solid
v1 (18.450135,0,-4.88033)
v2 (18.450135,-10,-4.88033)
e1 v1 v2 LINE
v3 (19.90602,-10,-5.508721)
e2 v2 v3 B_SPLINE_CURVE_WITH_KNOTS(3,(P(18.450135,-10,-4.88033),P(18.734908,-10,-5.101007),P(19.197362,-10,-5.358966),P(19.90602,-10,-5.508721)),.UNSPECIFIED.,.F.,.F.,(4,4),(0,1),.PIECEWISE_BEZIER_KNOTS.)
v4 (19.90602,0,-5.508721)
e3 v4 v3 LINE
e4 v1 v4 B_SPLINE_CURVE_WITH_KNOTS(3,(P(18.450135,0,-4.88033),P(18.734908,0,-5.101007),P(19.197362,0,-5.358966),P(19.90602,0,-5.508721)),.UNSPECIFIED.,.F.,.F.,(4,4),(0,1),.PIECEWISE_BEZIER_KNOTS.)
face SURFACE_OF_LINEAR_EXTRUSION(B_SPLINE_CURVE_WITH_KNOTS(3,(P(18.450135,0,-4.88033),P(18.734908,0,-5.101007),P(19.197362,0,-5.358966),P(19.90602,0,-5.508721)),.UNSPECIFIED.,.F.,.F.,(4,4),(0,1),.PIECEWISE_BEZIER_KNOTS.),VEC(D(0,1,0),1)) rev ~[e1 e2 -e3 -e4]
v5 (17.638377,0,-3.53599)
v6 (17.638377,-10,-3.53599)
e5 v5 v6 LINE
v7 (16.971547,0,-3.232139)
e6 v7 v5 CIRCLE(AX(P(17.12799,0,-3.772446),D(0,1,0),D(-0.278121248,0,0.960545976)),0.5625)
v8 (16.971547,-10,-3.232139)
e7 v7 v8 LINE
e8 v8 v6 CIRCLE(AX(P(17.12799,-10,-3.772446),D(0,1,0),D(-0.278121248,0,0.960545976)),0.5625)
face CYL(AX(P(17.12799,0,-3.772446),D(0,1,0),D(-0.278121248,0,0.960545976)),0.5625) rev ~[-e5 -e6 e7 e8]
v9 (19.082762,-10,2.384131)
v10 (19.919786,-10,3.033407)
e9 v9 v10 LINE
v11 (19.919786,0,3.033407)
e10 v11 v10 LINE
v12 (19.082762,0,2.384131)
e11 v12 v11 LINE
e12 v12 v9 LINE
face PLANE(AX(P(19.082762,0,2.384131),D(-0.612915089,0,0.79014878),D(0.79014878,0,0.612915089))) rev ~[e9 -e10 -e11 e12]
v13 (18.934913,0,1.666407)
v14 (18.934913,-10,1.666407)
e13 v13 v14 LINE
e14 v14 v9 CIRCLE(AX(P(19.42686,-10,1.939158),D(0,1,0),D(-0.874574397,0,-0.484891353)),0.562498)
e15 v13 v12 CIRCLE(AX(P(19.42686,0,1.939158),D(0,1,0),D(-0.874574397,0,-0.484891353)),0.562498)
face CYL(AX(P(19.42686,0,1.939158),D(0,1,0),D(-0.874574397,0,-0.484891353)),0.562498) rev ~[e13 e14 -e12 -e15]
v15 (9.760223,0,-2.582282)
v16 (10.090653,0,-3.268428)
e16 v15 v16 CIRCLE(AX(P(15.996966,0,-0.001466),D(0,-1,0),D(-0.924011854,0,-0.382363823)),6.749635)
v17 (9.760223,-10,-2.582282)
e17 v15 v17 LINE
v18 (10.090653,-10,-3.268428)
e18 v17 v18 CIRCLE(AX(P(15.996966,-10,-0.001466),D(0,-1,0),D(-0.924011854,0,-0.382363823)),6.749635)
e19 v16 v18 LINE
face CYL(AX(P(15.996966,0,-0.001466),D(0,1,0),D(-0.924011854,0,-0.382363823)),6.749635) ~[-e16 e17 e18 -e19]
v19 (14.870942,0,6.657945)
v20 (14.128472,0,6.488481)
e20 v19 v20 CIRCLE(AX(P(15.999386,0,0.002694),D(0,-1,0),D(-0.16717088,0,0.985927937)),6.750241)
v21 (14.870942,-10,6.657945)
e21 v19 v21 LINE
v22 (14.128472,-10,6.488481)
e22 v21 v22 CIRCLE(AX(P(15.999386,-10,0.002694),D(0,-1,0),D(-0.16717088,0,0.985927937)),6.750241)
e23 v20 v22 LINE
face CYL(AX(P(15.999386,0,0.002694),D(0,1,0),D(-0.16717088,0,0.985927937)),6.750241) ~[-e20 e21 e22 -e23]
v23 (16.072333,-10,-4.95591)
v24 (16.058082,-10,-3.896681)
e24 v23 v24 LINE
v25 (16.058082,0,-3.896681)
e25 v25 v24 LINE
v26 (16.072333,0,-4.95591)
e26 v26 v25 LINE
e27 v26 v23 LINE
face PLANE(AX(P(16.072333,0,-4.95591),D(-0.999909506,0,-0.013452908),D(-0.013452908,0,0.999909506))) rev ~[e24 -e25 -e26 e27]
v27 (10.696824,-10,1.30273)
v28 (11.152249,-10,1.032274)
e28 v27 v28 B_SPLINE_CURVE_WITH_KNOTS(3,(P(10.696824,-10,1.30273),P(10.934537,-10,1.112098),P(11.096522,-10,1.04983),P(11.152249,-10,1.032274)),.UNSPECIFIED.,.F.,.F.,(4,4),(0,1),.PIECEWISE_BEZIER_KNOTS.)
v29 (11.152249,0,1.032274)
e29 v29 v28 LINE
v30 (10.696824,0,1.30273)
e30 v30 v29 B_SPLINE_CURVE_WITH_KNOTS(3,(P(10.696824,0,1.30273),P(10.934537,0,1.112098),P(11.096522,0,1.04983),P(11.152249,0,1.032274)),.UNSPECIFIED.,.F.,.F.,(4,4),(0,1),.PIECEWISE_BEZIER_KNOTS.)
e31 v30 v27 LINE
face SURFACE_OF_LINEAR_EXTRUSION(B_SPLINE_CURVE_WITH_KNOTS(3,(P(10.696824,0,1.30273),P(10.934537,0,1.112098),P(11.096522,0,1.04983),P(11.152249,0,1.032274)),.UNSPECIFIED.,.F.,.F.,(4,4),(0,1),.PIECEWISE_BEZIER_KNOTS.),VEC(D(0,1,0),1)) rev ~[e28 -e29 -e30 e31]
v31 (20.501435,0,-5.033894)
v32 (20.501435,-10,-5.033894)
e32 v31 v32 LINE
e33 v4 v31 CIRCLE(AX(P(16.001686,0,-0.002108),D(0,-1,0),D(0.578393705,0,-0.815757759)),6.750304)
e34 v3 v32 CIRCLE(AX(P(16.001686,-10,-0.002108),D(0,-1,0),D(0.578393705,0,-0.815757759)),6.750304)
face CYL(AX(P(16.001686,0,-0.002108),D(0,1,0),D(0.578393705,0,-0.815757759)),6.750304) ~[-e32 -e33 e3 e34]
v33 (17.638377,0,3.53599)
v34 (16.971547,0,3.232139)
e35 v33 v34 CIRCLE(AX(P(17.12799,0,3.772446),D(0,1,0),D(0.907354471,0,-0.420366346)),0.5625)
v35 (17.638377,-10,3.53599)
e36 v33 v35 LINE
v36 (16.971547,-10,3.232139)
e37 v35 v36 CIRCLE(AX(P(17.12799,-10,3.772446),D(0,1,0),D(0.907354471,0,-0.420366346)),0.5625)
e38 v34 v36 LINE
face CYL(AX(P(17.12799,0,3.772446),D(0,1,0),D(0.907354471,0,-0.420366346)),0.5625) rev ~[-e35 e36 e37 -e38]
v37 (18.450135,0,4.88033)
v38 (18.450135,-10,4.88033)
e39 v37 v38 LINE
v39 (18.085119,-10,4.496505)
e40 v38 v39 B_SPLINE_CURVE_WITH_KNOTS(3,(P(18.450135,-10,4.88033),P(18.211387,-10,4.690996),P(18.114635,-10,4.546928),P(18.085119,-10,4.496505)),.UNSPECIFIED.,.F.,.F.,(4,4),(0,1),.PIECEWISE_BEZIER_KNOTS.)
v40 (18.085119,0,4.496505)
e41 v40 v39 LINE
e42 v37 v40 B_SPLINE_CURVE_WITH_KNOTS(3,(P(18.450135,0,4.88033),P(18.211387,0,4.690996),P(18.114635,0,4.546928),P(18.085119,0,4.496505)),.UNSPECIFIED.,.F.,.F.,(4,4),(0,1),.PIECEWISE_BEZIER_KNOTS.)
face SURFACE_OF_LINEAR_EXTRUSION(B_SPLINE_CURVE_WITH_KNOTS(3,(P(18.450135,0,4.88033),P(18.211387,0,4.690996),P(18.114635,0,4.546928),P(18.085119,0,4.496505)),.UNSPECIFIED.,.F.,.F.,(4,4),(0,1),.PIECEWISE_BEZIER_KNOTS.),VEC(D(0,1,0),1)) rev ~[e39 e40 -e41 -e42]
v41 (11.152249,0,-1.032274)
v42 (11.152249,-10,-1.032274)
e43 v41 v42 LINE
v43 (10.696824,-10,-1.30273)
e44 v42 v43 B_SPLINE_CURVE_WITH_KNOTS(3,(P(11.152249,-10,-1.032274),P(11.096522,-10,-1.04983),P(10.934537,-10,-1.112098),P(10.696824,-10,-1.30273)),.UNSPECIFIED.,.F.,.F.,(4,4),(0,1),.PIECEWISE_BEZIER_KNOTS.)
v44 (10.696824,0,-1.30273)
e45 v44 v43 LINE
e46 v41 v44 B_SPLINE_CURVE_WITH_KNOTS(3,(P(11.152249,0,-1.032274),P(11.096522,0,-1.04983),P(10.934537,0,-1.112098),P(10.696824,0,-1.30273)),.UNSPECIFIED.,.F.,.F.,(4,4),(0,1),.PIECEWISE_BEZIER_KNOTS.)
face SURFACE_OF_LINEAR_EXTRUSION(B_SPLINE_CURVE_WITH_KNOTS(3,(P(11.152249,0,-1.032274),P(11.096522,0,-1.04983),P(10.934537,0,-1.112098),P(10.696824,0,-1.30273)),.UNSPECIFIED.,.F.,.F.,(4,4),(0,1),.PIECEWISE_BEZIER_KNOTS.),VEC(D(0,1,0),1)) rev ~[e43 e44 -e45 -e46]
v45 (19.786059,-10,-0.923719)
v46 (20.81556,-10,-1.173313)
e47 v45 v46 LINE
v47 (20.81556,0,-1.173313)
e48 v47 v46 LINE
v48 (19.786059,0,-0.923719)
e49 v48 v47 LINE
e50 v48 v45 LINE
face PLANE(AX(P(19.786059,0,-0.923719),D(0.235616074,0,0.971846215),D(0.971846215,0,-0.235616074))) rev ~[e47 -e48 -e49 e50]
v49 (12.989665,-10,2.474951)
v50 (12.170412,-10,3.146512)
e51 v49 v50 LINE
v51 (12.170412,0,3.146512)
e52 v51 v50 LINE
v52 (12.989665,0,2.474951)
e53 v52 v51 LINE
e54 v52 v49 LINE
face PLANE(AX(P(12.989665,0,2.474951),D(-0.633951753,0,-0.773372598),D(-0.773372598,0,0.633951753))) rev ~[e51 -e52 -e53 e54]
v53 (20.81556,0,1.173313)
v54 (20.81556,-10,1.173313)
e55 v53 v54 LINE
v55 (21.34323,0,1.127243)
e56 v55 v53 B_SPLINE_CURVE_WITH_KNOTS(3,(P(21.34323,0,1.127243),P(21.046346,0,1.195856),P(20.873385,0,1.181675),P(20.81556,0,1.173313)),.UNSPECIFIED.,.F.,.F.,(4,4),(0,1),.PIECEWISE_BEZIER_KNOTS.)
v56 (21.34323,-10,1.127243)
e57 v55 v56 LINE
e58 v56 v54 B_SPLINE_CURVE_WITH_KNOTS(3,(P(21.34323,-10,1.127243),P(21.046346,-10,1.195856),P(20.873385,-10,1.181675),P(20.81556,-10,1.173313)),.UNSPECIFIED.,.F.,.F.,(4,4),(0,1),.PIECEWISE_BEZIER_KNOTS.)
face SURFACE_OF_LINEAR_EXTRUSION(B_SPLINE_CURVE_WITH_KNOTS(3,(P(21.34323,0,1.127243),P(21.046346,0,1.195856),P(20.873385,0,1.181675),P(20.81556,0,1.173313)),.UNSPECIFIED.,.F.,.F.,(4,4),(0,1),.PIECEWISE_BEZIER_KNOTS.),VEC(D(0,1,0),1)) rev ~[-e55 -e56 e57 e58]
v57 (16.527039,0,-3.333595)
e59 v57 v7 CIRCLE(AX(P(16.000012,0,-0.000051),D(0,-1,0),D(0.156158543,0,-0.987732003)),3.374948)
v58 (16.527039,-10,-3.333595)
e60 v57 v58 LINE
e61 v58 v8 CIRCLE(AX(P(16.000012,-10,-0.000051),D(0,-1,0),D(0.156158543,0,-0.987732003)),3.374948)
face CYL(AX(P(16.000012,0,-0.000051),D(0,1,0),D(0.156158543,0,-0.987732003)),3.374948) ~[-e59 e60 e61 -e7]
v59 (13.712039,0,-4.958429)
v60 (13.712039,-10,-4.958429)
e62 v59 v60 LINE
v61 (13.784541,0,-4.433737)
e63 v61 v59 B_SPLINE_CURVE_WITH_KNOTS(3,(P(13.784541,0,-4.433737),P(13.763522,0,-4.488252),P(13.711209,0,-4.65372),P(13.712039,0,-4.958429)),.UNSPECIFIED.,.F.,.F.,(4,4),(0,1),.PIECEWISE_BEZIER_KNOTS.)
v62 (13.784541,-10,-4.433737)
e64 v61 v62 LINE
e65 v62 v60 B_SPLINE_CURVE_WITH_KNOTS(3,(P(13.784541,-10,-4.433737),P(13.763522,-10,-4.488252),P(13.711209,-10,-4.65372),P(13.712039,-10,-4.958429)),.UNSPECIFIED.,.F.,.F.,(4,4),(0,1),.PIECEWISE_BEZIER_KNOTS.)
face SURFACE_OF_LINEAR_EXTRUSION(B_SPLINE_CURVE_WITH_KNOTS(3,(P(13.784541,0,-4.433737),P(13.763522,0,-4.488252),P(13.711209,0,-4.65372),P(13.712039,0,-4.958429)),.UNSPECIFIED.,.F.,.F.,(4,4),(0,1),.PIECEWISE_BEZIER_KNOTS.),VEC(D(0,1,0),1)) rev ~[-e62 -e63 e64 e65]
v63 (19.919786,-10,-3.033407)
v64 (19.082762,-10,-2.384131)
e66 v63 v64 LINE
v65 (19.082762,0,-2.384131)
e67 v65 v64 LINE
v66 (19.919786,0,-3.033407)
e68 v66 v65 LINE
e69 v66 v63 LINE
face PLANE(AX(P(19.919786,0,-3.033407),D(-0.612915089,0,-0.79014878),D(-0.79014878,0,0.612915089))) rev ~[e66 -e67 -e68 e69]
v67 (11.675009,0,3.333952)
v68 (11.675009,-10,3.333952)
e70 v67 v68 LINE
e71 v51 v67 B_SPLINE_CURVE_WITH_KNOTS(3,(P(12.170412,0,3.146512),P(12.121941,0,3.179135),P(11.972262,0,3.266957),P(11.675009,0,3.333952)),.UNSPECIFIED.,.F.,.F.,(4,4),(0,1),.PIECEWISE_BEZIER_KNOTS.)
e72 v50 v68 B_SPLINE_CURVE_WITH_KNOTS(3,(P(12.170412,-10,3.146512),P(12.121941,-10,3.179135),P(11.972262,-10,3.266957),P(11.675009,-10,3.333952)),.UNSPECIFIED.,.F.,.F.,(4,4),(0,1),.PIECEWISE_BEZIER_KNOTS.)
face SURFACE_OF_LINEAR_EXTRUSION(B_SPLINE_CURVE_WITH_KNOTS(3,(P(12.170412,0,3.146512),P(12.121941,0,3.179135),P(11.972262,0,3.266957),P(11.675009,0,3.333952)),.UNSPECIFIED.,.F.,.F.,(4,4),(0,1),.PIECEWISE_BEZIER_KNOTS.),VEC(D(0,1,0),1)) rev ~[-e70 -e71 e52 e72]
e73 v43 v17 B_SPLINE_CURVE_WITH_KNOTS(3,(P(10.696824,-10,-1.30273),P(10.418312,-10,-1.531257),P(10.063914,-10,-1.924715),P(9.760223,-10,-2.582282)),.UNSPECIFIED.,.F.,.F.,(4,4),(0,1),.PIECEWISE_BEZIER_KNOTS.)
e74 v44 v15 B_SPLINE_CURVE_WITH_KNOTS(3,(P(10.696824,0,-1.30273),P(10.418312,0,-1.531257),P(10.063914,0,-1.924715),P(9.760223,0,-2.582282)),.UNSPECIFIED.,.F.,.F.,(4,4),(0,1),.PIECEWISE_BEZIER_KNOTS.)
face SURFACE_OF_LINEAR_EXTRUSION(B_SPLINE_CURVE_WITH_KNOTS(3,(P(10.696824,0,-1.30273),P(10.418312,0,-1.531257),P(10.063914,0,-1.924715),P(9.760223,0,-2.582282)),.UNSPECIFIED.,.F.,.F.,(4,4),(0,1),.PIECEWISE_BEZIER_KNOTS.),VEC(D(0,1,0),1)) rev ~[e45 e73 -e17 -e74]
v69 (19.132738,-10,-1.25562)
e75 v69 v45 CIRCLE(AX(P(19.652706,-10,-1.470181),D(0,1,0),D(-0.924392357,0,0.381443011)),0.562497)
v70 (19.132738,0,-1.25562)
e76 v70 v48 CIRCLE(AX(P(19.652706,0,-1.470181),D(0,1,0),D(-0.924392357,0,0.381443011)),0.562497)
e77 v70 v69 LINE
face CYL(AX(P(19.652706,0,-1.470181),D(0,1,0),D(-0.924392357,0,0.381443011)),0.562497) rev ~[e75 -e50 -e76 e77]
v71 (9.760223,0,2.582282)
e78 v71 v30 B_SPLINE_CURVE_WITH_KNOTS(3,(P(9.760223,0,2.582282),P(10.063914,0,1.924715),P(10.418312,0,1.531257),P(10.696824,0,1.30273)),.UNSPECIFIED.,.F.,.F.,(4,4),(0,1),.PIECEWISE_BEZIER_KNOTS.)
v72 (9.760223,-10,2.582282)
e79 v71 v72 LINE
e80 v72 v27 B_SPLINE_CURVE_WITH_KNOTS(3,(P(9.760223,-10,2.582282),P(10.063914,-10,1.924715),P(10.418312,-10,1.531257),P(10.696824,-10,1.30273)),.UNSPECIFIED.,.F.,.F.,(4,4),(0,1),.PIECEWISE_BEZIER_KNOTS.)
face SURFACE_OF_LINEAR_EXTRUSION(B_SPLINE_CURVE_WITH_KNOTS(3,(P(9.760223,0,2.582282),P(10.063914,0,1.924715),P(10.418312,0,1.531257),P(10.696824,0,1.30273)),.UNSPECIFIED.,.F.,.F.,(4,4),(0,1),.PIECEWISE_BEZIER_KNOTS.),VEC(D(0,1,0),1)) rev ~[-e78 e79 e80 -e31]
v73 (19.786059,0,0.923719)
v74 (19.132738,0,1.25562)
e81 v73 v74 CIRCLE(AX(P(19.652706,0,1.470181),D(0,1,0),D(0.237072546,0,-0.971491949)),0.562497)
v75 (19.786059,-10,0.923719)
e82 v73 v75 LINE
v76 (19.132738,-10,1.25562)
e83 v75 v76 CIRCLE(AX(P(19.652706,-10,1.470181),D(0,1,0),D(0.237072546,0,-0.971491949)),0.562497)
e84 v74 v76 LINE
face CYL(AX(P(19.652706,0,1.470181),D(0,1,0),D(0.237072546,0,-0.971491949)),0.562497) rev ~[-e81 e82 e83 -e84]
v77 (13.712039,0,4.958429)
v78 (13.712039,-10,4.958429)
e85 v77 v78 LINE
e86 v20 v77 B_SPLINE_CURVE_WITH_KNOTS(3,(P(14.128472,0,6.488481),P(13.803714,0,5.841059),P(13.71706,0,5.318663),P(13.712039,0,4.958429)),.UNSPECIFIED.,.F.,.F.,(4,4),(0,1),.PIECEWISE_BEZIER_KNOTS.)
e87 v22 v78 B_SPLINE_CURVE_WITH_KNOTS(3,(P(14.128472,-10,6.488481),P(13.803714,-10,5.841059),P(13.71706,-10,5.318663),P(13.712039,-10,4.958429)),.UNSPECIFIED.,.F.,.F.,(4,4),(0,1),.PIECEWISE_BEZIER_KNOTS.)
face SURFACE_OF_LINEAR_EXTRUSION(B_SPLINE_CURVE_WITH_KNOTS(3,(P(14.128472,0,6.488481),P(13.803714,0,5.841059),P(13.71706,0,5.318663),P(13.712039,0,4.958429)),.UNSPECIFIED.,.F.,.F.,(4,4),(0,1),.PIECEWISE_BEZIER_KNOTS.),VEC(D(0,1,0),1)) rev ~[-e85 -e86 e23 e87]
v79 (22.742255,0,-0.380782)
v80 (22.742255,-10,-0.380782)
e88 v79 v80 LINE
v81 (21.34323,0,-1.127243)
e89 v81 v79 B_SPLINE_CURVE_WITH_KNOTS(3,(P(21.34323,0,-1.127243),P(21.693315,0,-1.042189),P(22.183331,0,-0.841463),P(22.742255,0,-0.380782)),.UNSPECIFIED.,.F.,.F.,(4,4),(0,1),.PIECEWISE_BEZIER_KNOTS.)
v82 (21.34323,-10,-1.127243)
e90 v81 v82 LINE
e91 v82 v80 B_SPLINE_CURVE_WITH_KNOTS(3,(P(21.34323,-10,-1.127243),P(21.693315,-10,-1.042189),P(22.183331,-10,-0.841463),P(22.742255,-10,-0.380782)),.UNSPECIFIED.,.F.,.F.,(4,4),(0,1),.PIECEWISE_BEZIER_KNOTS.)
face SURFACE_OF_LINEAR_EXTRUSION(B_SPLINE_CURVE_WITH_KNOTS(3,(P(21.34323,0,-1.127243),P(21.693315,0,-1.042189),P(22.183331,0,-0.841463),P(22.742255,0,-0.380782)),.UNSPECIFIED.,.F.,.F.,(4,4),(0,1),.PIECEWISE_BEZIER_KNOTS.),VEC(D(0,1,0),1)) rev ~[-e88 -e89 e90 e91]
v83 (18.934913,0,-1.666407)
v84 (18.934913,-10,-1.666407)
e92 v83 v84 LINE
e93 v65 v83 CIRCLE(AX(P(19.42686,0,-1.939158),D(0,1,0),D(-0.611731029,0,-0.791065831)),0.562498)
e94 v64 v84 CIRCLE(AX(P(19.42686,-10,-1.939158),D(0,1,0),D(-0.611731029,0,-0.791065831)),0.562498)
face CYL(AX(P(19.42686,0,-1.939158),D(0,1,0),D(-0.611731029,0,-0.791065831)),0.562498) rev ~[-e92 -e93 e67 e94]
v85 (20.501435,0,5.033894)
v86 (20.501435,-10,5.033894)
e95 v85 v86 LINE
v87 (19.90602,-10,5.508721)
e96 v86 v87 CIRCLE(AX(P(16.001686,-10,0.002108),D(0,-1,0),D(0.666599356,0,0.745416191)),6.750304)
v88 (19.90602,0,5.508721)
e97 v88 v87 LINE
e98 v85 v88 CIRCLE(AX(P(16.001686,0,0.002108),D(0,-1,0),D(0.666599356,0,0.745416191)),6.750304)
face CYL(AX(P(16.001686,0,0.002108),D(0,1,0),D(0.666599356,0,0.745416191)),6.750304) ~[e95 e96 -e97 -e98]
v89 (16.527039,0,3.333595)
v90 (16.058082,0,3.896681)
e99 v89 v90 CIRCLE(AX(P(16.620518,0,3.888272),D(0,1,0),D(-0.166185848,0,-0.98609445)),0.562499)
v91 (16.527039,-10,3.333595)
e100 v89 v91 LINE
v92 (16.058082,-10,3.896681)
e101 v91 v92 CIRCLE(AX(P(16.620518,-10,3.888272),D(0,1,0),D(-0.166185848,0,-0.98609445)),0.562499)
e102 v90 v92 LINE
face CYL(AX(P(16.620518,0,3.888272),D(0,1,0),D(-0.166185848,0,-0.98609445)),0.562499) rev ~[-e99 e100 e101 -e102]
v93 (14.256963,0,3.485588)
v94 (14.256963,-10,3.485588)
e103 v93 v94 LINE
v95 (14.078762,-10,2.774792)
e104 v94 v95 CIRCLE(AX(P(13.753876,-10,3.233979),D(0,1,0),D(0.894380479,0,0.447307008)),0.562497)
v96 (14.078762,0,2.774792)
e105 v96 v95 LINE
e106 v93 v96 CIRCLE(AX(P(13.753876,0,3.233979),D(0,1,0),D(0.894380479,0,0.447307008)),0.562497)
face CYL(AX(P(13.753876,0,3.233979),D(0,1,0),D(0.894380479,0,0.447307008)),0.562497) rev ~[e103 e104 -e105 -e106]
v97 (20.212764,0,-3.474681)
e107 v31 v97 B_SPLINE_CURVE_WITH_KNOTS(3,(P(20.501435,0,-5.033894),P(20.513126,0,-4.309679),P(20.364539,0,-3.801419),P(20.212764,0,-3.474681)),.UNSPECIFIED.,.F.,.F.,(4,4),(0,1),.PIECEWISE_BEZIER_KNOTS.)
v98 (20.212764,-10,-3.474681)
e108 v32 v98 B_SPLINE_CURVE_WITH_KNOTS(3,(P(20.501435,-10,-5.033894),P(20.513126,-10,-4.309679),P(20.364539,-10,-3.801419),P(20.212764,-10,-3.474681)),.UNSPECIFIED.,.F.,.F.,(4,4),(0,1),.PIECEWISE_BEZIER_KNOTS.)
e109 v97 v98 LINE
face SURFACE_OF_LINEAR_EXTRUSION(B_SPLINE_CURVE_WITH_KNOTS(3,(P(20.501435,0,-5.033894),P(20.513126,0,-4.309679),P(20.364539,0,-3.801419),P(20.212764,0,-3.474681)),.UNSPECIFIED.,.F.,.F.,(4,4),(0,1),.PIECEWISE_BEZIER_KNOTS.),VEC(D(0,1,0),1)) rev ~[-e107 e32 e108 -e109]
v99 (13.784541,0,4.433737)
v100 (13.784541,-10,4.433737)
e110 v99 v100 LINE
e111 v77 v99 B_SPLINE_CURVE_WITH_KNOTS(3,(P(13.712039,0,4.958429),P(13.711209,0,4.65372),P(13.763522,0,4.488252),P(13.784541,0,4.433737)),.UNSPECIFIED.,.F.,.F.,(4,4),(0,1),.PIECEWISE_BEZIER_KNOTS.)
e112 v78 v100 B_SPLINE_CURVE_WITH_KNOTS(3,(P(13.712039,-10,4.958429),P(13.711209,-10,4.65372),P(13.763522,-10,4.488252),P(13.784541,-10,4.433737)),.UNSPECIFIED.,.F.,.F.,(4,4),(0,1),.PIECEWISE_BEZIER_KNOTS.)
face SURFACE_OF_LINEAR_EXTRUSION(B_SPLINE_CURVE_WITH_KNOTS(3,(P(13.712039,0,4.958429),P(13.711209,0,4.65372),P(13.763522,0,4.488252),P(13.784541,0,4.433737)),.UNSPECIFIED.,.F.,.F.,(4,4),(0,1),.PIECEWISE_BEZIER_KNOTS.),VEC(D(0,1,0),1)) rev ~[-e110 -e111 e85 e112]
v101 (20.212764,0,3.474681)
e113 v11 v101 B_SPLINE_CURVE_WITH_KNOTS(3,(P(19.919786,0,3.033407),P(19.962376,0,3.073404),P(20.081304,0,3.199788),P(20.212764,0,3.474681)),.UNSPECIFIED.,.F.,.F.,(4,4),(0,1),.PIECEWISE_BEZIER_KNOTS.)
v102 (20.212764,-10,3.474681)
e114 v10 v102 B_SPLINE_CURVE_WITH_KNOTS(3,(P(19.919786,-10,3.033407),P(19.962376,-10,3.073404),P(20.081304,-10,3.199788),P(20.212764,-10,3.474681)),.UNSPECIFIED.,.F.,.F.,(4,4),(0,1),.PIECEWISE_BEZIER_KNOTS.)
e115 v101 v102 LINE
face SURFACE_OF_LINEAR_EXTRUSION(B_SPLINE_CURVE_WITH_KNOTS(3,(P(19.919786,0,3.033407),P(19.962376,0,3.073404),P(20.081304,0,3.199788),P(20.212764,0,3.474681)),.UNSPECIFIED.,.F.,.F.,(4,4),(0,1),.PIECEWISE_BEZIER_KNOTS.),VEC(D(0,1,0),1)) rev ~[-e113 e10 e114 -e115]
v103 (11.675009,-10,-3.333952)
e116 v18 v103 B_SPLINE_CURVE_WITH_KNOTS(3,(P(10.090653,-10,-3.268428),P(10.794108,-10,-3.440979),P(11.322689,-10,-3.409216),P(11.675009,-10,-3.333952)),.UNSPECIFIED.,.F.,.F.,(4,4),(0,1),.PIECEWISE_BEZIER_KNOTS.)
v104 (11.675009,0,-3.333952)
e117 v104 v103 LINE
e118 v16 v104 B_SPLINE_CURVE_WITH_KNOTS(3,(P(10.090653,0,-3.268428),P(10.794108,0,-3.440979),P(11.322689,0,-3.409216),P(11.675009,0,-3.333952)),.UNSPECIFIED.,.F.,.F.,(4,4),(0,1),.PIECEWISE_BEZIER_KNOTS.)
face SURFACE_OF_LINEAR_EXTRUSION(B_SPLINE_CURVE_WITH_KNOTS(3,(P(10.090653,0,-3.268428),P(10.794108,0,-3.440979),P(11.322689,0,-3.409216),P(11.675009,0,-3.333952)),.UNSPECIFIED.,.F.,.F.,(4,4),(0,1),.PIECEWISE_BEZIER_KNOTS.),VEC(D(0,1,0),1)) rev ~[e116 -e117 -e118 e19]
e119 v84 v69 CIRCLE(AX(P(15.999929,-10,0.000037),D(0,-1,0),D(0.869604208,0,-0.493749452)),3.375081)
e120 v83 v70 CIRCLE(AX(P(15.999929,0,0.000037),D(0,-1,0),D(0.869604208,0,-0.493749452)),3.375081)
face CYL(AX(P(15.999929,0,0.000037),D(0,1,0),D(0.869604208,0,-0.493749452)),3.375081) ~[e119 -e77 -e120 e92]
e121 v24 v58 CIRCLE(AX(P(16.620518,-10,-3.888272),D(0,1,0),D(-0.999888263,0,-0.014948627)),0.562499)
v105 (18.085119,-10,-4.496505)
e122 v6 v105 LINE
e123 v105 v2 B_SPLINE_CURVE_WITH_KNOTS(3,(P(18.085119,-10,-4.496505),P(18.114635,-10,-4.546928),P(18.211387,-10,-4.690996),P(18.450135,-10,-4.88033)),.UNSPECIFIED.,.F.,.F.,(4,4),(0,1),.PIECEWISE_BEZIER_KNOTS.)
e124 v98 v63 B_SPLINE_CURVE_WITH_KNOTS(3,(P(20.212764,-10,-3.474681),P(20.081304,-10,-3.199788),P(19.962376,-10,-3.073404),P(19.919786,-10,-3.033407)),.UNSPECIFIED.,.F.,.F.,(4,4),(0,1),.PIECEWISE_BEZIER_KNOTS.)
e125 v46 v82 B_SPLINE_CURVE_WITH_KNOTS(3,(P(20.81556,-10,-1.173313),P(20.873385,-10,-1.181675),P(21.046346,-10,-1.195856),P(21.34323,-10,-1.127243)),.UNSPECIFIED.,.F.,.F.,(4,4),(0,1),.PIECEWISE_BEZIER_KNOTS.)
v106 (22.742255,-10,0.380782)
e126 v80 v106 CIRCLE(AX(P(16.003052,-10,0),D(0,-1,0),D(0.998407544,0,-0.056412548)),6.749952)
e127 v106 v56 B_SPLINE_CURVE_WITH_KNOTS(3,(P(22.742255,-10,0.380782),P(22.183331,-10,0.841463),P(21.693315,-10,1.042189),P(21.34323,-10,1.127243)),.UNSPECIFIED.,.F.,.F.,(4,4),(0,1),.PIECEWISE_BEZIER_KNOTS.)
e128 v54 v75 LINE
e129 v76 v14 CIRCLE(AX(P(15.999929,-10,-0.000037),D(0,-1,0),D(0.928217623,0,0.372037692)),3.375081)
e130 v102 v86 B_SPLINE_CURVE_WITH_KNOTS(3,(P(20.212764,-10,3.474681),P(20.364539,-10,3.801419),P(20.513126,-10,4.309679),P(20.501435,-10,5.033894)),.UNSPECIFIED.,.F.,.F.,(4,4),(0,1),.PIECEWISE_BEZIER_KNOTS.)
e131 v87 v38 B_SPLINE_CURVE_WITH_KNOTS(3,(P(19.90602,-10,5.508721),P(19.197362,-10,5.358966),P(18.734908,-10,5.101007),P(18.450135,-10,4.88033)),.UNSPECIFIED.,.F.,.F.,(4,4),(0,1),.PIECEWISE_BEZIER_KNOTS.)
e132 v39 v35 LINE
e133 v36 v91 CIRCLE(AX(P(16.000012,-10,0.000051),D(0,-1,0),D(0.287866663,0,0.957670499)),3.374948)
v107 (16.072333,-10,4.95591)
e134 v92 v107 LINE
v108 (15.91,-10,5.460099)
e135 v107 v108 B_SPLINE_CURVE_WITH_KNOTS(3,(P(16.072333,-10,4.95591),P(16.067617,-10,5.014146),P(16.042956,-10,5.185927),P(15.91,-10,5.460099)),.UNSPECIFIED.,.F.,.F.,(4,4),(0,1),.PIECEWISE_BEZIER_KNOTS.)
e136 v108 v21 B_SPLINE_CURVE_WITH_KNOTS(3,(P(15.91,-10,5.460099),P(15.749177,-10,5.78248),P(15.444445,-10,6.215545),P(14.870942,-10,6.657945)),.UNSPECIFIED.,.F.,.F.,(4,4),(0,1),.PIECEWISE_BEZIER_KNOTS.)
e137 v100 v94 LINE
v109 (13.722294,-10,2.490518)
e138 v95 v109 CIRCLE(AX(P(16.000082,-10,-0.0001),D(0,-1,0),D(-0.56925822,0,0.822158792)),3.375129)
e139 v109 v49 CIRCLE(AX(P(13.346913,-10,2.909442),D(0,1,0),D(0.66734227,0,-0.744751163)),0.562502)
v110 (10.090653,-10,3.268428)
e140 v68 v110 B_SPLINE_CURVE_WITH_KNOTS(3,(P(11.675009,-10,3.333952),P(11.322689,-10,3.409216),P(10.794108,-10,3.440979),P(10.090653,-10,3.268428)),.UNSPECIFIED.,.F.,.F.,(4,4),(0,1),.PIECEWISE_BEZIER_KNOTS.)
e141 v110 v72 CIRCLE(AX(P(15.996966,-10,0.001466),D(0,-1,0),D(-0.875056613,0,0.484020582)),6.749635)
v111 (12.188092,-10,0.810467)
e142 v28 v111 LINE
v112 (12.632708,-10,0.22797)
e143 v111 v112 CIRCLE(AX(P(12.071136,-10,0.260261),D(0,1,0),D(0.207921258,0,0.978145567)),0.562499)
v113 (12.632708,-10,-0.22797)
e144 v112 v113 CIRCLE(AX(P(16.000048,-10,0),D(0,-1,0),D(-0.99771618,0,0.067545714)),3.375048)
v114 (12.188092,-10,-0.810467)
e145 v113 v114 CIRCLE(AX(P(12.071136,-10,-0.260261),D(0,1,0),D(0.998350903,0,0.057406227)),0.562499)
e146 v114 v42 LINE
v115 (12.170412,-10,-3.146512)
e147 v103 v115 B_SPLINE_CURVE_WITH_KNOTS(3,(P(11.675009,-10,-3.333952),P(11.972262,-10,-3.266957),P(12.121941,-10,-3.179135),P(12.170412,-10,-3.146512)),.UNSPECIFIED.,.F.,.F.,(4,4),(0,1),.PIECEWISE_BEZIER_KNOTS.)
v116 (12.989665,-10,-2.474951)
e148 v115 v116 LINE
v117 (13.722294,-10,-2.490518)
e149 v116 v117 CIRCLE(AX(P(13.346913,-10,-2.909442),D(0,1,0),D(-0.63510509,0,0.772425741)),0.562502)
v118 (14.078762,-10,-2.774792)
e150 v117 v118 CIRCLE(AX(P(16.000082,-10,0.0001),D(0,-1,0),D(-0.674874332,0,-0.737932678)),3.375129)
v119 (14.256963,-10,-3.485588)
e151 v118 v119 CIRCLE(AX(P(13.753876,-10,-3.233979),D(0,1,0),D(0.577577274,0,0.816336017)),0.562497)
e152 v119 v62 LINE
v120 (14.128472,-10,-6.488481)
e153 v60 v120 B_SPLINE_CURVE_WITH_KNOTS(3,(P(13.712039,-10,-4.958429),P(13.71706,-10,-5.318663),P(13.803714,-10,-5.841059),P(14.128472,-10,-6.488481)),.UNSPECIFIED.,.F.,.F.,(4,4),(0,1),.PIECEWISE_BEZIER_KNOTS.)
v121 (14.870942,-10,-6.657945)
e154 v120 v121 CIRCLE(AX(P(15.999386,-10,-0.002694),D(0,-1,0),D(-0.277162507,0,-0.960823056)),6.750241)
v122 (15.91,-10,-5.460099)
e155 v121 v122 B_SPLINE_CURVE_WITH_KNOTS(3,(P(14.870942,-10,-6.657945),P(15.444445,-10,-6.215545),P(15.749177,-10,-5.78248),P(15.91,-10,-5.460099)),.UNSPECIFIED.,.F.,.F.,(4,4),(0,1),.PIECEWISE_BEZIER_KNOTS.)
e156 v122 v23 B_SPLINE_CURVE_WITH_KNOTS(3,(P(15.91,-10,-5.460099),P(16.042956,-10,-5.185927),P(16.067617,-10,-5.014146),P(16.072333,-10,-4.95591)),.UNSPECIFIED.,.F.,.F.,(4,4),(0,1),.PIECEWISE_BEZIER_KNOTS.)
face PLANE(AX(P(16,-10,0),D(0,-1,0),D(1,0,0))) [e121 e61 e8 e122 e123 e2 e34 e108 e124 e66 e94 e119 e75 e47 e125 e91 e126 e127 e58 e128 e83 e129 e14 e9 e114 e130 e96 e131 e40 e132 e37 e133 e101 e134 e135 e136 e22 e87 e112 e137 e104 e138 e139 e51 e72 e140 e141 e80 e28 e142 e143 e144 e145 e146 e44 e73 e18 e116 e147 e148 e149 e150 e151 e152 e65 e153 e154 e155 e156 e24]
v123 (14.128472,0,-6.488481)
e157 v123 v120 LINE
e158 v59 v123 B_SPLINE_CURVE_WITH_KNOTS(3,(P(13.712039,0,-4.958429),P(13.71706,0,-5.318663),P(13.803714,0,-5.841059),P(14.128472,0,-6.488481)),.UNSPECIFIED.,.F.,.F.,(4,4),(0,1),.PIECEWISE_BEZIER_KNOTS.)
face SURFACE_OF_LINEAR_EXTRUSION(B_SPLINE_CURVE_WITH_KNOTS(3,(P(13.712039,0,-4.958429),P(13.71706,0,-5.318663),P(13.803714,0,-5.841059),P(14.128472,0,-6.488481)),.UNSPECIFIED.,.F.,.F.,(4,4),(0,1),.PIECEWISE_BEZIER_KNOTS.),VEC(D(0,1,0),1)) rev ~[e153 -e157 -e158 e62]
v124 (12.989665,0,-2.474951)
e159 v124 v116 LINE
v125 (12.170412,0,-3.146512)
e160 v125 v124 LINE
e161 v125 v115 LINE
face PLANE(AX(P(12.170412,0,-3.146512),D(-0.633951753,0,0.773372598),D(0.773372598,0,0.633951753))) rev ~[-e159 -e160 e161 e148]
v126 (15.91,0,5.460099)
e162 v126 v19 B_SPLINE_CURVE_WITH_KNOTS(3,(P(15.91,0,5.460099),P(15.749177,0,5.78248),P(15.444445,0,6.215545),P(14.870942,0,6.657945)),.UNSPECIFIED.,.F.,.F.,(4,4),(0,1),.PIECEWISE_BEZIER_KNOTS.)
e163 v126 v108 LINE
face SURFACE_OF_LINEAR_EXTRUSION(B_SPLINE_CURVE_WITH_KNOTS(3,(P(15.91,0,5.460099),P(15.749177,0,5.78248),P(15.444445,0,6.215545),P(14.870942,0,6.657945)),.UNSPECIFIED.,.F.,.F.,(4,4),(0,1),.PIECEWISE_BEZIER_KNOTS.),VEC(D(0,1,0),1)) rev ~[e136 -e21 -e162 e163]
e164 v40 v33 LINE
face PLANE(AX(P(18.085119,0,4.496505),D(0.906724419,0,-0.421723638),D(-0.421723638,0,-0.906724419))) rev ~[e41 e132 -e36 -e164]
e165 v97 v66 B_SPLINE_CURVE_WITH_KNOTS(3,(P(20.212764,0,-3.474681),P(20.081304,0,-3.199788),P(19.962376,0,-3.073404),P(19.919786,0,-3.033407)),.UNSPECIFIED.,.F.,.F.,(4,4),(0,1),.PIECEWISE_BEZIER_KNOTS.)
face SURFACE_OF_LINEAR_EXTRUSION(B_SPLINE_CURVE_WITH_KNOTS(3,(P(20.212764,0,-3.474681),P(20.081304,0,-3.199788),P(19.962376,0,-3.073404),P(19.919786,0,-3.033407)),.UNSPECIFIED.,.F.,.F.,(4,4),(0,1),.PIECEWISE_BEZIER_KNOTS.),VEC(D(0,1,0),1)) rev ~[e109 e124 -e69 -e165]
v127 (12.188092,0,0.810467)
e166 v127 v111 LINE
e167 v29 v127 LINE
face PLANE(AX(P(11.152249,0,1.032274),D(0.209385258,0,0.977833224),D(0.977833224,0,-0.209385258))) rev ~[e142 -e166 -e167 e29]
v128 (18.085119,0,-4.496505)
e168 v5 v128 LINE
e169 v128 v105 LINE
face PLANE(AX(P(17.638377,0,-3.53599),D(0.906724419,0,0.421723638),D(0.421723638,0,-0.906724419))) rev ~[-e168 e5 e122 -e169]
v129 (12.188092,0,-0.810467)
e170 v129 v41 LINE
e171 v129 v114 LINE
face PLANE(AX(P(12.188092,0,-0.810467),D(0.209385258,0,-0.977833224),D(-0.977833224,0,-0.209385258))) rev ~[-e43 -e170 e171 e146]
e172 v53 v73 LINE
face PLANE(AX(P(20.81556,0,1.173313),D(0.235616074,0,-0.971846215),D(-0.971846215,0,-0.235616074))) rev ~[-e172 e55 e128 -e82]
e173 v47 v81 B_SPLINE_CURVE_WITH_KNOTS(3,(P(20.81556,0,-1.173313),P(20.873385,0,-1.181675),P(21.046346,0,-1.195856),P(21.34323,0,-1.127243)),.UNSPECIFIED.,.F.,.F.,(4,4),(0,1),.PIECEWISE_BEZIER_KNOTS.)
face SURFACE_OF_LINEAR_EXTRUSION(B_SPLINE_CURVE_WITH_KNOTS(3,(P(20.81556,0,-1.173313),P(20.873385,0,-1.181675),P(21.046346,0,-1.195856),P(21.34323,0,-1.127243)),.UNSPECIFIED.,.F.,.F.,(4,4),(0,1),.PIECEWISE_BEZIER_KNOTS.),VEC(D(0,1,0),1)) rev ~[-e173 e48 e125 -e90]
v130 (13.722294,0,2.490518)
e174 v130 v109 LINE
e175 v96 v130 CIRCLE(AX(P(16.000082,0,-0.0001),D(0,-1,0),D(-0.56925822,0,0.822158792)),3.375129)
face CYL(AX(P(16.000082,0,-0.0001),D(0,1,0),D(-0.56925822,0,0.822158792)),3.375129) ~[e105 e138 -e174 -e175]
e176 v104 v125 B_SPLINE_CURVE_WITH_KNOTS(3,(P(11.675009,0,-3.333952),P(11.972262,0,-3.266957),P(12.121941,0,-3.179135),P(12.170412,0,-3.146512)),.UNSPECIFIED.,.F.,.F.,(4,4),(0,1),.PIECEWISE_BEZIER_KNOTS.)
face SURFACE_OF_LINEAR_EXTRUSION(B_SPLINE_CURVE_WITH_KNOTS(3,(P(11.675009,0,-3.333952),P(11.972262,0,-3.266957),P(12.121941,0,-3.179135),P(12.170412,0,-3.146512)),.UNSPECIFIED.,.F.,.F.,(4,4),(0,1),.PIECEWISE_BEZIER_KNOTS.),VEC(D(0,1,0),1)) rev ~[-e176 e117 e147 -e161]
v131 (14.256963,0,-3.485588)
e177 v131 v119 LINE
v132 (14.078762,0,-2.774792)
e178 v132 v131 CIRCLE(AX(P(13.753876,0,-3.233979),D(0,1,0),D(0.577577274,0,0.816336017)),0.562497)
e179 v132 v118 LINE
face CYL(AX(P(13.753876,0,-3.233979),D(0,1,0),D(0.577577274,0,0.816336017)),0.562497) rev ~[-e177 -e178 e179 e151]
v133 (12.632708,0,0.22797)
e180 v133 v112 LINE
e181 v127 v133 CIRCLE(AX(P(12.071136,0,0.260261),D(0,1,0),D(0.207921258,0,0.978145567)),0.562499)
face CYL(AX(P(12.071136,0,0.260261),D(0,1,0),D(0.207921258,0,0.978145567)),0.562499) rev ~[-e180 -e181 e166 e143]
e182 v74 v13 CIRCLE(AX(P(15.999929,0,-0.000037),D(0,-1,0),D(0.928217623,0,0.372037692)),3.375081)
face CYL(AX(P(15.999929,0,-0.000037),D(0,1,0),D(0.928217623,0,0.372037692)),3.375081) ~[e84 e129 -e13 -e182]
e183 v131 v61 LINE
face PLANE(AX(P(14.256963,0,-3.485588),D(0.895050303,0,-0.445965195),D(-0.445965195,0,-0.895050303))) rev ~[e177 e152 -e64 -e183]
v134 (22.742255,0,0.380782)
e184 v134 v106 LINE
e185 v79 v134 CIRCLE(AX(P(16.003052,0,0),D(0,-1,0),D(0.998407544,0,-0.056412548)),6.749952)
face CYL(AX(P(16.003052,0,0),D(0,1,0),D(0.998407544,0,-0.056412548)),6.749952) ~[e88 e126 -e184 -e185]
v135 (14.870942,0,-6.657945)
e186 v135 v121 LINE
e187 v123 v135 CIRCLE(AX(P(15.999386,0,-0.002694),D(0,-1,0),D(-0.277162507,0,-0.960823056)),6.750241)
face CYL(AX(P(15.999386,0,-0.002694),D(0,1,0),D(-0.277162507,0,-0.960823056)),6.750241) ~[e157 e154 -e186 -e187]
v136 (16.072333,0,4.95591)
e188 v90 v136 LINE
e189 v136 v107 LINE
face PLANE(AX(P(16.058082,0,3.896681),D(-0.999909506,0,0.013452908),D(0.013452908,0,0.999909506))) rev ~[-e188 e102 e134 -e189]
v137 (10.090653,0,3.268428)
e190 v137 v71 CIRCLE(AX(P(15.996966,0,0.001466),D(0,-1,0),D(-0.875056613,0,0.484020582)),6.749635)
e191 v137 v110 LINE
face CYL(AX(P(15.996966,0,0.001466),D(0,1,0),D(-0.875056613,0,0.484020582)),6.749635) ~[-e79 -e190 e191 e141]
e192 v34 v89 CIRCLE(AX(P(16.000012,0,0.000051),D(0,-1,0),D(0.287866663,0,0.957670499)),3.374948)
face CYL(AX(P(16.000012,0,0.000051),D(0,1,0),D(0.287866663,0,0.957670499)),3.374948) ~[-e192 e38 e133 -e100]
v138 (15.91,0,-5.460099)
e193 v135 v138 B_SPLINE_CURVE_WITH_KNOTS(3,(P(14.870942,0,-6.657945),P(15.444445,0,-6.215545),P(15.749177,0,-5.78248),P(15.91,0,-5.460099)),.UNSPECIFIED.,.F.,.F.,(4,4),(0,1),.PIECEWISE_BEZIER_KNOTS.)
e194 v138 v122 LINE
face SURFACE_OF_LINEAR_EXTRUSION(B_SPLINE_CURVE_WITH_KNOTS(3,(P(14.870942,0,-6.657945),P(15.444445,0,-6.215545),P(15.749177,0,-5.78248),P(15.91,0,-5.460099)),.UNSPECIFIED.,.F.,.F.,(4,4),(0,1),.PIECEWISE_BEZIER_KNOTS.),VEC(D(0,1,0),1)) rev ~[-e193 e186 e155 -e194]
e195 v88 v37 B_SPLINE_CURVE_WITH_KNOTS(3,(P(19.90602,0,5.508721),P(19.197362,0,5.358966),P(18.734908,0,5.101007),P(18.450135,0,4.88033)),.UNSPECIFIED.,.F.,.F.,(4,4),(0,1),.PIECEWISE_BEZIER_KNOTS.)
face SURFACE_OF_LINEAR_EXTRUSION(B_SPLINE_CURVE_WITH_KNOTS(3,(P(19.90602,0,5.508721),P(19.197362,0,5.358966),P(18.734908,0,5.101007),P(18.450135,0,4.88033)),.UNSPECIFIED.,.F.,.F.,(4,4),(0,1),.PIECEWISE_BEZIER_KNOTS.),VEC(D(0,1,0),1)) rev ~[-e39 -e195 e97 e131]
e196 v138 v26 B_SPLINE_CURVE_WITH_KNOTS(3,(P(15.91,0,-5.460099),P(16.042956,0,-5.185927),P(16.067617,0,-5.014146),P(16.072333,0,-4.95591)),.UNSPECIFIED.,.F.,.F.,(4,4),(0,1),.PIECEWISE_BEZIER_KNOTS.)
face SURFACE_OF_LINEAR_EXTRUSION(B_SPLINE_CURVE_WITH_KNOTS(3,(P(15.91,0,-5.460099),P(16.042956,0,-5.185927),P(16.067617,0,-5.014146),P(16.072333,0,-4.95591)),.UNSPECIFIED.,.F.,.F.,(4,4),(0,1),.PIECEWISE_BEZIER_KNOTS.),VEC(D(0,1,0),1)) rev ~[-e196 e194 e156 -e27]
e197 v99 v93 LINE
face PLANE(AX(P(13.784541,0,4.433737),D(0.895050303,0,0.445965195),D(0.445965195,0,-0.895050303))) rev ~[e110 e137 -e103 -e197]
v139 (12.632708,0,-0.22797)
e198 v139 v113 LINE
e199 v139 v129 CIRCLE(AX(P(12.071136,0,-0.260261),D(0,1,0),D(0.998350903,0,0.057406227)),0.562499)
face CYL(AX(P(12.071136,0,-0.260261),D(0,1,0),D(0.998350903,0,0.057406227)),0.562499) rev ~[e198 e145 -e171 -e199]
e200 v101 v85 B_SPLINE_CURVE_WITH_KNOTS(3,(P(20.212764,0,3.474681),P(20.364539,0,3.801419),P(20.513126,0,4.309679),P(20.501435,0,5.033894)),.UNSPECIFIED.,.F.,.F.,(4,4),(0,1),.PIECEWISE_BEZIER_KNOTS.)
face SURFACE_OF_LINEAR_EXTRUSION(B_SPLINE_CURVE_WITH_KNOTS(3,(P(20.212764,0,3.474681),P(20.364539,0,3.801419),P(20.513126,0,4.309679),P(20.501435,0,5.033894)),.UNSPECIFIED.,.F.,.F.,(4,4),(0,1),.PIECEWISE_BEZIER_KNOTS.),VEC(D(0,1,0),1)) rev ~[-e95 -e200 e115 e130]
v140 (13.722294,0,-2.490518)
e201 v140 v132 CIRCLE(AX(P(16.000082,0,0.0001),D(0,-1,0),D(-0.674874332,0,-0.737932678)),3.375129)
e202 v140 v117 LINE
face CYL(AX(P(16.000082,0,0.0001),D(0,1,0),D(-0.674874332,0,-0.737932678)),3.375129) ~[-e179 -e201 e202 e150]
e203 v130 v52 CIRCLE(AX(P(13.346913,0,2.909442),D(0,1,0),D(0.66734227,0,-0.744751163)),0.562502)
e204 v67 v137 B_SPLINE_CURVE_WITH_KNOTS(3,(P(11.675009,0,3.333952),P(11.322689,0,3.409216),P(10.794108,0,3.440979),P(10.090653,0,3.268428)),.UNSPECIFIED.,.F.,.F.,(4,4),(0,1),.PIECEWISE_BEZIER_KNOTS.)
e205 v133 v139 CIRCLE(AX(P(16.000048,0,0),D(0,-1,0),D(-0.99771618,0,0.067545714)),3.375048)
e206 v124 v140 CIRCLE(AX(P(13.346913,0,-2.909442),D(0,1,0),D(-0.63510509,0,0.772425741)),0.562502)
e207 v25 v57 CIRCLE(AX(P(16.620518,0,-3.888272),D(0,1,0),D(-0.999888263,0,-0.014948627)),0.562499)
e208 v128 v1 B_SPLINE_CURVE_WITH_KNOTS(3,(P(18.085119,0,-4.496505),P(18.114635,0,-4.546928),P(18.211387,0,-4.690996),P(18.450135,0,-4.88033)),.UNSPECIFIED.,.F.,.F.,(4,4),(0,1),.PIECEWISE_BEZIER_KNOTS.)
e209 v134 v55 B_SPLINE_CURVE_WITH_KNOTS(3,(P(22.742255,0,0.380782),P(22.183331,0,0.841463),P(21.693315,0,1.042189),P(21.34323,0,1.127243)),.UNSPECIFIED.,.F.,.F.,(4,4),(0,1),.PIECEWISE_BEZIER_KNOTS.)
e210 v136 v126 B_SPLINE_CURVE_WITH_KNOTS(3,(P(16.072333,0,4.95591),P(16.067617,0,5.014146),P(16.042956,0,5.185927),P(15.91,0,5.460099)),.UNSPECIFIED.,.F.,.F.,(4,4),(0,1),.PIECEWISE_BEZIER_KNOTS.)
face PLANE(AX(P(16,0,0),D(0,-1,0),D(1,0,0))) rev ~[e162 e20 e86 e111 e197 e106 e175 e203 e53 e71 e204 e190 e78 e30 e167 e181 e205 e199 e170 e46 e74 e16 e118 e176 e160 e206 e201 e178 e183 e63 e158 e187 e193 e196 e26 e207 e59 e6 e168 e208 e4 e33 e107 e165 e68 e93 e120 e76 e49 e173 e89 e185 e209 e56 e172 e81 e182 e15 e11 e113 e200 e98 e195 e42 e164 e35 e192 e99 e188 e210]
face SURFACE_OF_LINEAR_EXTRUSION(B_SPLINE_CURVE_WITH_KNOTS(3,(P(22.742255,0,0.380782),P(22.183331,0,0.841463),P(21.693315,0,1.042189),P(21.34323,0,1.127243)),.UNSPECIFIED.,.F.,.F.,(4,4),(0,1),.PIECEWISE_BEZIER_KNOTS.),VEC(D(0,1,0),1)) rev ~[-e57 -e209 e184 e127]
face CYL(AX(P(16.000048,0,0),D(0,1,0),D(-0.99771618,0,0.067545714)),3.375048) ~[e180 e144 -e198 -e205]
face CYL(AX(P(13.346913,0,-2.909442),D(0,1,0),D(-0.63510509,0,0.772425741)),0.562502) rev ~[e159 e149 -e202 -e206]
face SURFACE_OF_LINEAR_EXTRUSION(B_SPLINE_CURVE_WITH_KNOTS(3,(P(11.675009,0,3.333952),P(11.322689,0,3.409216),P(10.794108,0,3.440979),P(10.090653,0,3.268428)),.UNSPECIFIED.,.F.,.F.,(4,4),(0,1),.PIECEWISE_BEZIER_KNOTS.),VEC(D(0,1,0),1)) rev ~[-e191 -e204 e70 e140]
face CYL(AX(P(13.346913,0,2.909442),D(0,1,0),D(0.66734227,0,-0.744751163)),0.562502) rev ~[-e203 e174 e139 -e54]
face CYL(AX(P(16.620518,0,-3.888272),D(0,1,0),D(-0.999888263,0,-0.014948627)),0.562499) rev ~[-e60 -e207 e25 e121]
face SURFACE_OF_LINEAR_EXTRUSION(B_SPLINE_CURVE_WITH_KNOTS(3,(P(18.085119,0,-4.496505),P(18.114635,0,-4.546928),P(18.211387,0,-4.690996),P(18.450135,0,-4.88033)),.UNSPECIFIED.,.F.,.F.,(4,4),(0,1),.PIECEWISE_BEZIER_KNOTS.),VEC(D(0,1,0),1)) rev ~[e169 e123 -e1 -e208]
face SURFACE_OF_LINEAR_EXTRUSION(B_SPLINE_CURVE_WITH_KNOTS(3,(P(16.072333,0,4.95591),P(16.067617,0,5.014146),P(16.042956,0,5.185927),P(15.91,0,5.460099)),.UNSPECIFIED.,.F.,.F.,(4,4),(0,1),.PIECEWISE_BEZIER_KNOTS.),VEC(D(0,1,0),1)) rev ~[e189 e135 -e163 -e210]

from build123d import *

# Parameters (mm, degrees)
PAD003_DEPTH = 10
POCKET_DEPTH = 10.001


with BuildPart() as ruota_dentata_motore:
    # InvoluteGear001 → Pad003 (new body)
    with BuildSketch(Plane(origin=(16, 0, 0), x_dir=(1, 0, 0), z_dir=(0, -1, 0))):
        with BuildLine():
            Line((3.786059, -0.923719), (4.81556, -1.173313))
            add(Edge.make_bspline(
                [(4.81556, -1.173313), (4.873385, -1.181675), (5.046346, -1.195856), (5.34323, -1.127243)],
                knots=[0, 0, 0, 0, 1, 1, 1, 1], degree=3))
            add(Edge.make_bspline(
                [(5.34323, -1.127243), (5.693315, -1.042189), (6.183331, -0.841463), (6.742255, -0.380782)],
                knots=[0, 0, 0, 0, 1, 1, 1, 1], degree=3))
            ThreePointArc((6.742255, -0.380782), (6.753004, 0), (6.742255, 0.380782))
            add(Edge.make_bspline(
                [(6.742255, 0.380782), (6.183331, 0.841463), (5.693315, 1.042189), (5.34323, 1.127243)],
                knots=[0, 0, 0, 0, 1, 1, 1, 1], degree=3))
            add(Edge.make_bspline(
                [(5.34323, 1.127243), (5.046346, 1.195856), (4.873385, 1.181675), (4.81556, 1.173313)],
                knots=[0, 0, 0, 0, 1, 1, 1, 1], degree=3))
            Line((4.81556, 1.173313), (3.786059, 0.923719))
            ThreePointArc((3.786059, 0.923719), (3.397937, 0.968687), (3.132738, 1.25562))
            ThreePointArc((3.132738, 1.25562), (3.04077, 1.464358), (2.934913, 1.666407))
            ThreePointArc((2.934913, 1.666407), (2.875929, 2.052647), (3.082762, 2.384131))
            Line((3.082762, 2.384131), (3.919786, 3.033407))
            add(Edge.make_bspline(
                [(3.919786, 3.033407), (3.962376, 3.073404), (4.081304, 3.199788), (4.212764, 3.474681)],
                knots=[0, 0, 0, 0, 1, 1, 1, 1], degree=3))
            add(Edge.make_bspline(
                [(4.212764, 3.474681), (4.364539, 3.801419), (4.513126, 4.309679), (4.501435, 5.033894)],
                knots=[0, 0, 0, 0, 1, 1, 1, 1], degree=3))
            ThreePointArc((4.501435, 5.033894), (4.210429, 5.279711), (3.90602, 5.508721))
            add(Edge.make_bspline(
                [(3.90602, 5.508721), (3.197362, 5.358966), (2.734908, 5.101007), (2.450135, 4.88033)],
                knots=[0, 0, 0, 0, 1, 1, 1, 1], degree=3))
            add(Edge.make_bspline(
                [(2.450135, 4.88033), (2.211387, 4.690996), (2.114635, 4.546928), (2.085119, 4.496505)],
                knots=[0, 0, 0, 0, 1, 1, 1, 1], degree=3))
            Line((2.085119, 4.496505), (1.638377, 3.53599))
            ThreePointArc((1.638377, 3.53599), (1.361229, 3.260581), (0.971547, 3.232139))
            ThreePointArc((0.971547, 3.232139), (0.751008, 3.290382), (0.527039, 3.333595))
            ThreePointArc((0.527039, 3.333595), (0.188288, 3.528297), (0.058082, 3.896681))
            Line((0.058082, 3.896681), (0.072333, 4.95591))
            add(Edge.make_bspline(
                [(0.072333, 4.95591), (0.067617, 5.014146), (0.042956, 5.185927), (-0.09, 5.460099)],
                knots=[0, 0, 0, 0, 1, 1, 1, 1], degree=3))
            add(Edge.make_bspline(
                [(-0.09, 5.460099), (-0.250823, 5.78248), (-0.555555, 6.215545), (-1.129058, 6.657945)],
                knots=[0, 0, 0, 0, 1, 1, 1, 1], degree=3))
            ThreePointArc((-1.129058, 6.657945), (-1.502685, 6.583692), (-1.871528, 6.488481))
            add(Edge.make_bspline(
                [(-1.871528, 6.488481), (-2.196286, 5.841059), (-2.28294, 5.318663), (-2.287961, 4.958429)],
                knots=[0, 0, 0, 0, 1, 1, 1, 1], degree=3))
            add(Edge.make_bspline(
                [(-2.287961, 4.958429), (-2.288791, 4.65372), (-2.236478, 4.488252), (-2.215459, 4.433737)],
                knots=[0, 0, 0, 0, 1, 1, 1, 1], degree=3))
            Line((-2.215459, 4.433737), (-1.743037, 3.485588))
            ThreePointArc((-1.743037, 3.485588), (-1.700512, 3.09719), (-1.921238, 2.774792))
            ThreePointArc((-1.921238, 2.774792), (-2.104278, 2.638681), (-2.277706, 2.490518))
            ThreePointArc((-2.277706, 2.490518), (-2.641138, 2.347067), (-3.010335, 2.474951))
            Line((-3.010335, 2.474951), (-3.829588, 3.146512))
            add(Edge.make_bspline(
                [(-3.829588, 3.146512), (-3.878059, 3.179135), (-4.027738, 3.266957), (-4.324991, 3.333952)],
                knots=[0, 0, 0, 0, 1, 1, 1, 1], degree=3))
            add(Edge.make_bspline(
                [(-4.324991, 3.333952), (-4.677311, 3.409216), (-5.205892, 3.440979), (-5.909347, 3.268428)],
                knots=[0, 0, 0, 0, 1, 1, 1, 1], degree=3))
            ThreePointArc((-5.909347, 3.268428), (-6.084247, 2.930019), (-6.239777, 2.582282))
            add(Edge.make_bspline(
                [(-6.239777, 2.582282), (-5.936086, 1.924715), (-5.581688, 1.531257), (-5.303176, 1.30273)],
                knots=[0, 0, 0, 0, 1, 1, 1, 1], degree=3))
            add(Edge.make_bspline(
                [(-5.303176, 1.30273), (-5.065463, 1.112098), (-4.903478, 1.04983), (-4.847751, 1.032274)],
                knots=[0, 0, 0, 0, 1, 1, 1, 1], degree=3))
            Line((-4.847751, 1.032274), (-3.811908, 0.810467))
            ThreePointArc((-3.811908, 0.810467), (-3.481733, 0.601552), (-3.367292, 0.22797))
            ThreePointArc((-3.367292, 0.22797), (-3.375, 0), (-3.367292, -0.22797))
            ThreePointArc((-3.367292, -0.22797), (-3.481733, -0.601552), (-3.811908, -0.810467))
            Line((-3.811908, -0.810467), (-4.847751, -1.032274))
            add(Edge.make_bspline(
                [(-4.847751, -1.032274), (-4.903478, -1.04983), (-5.065463, -1.112098), (-5.303176, -1.30273)],
                knots=[0, 0, 0, 0, 1, 1, 1, 1], degree=3))
            add(Edge.make_bspline(
                [(-5.303176, -1.30273), (-5.581688, -1.531257), (-5.936086, -1.924715), (-6.239777, -2.582282)],
                knots=[0, 0, 0, 0, 1, 1, 1, 1], degree=3))
            ThreePointArc((-6.239777, -2.582282), (-6.084247, -2.930019), (-5.909347, -3.268428))
            add(Edge.make_bspline(
                [(-5.909347, -3.268428), (-5.205892, -3.440979), (-4.677311, -3.409216), (-4.324991, -3.333952)],
                knots=[0, 0, 0, 0, 1, 1, 1, 1], degree=3))
            add(Edge.make_bspline(
                [(-4.324991, -3.333952), (-4.027738, -3.266957), (-3.878059, -3.179135), (-3.829588, -3.146512)],
                knots=[0, 0, 0, 0, 1, 1, 1, 1], degree=3))
            Line((-3.829588, -3.146512), (-3.010335, -2.474951))
            ThreePointArc((-3.010335, -2.474951), (-2.641138, -2.347067), (-2.277706, -2.490518))
            ThreePointArc((-2.277706, -2.490518), (-2.104278, -2.638681), (-1.921238, -2.774792))
            ThreePointArc((-1.921238, -2.774792), (-1.700512, -3.09719), (-1.743037, -3.485588))
            Line((-1.743037, -3.485588), (-2.215459, -4.433737))
            add(Edge.make_bspline(
                [(-2.215459, -4.433737), (-2.236478, -4.488252), (-2.288791, -4.65372), (-2.287961, -4.958429)],
                knots=[0, 0, 0, 0, 1, 1, 1, 1], degree=3))
            add(Edge.make_bspline(
                [(-2.287961, -4.958429), (-2.28294, -5.318663), (-2.196286, -5.841059), (-1.871528, -6.488481)],
                knots=[0, 0, 0, 0, 1, 1, 1, 1], degree=3))
            ThreePointArc((-1.871528, -6.488481), (-1.502685, -6.583692), (-1.129058, -6.657945))
            add(Edge.make_bspline(
                [(-1.129058, -6.657945), (-0.555555, -6.215545), (-0.250823, -5.78248), (-0.09, -5.460099)],
                knots=[0, 0, 0, 0, 1, 1, 1, 1], degree=3))
            add(Edge.make_bspline(
                [(-0.09, -5.460099), (0.042956, -5.185927), (0.067617, -5.014146), (0.072333, -4.95591)],
                knots=[0, 0, 0, 0, 1, 1, 1, 1], degree=3))
            Line((0.072333, -4.95591), (0.058082, -3.896681))
            ThreePointArc((0.058082, -3.896681), (0.188288, -3.528297), (0.527039, -3.333595))
            ThreePointArc((0.527039, -3.333595), (0.751008, -3.290382), (0.971547, -3.232139))
            ThreePointArc((0.971547, -3.232139), (1.361229, -3.260581), (1.638377, -3.53599))
            Line((1.638377, -3.53599), (2.085119, -4.496505))
            add(Edge.make_bspline(
                [(2.085119, -4.496505), (2.114635, -4.546928), (2.211387, -4.690996), (2.450135, -4.88033)],
                knots=[0, 0, 0, 0, 1, 1, 1, 1], degree=3))
            add(Edge.make_bspline(
                [(2.450135, -4.88033), (2.734908, -5.101007), (3.197362, -5.358966), (3.90602, -5.508721)],
                knots=[0, 0, 0, 0, 1, 1, 1, 1], degree=3))
            ThreePointArc((3.90602, -5.508721), (4.210429, -5.279711), (4.501435, -5.033894))
            add(Edge.make_bspline(
                [(4.501435, -5.033894), (4.513126, -4.309679), (4.364539, -3.801419), (4.212764, -3.474681)],
                knots=[0, 0, 0, 0, 1, 1, 1, 1], degree=3))
            add(Edge.make_bspline(
                [(4.212764, -3.474681), (4.081304, -3.199788), (3.962376, -3.073404), (3.919786, -3.033407)],
                knots=[0, 0, 0, 0, 1, 1, 1, 1], degree=3))
            Line((3.919786, -3.033407), (3.082762, -2.384131))
            ThreePointArc((3.082762, -2.384131), (2.875929, -2.052647), (2.934913, -1.666407))
            ThreePointArc((2.934913, -1.666407), (3.04077, -1.464358), (3.132738, -1.25562))
            ThreePointArc((3.132738, -1.25562), (3.397937, -0.968687), (3.786059, -0.923719))
        make_face()
    extrude(amount=PAD003_DEPTH)


with BuildPart() as ruota_dentata_motore_con_buco:
    # Pocket base: copy of ruota_dentata_motore
    add(ruota_dentata_motore.part)

    # Sketch012 → Pocket (cut, through all)
    with BuildSketch(Plane(origin=(16, -10, 0), x_dir=(1, 0, 0), z_dir=(0, -1, 0))):
        with BuildLine():
            ThreePointArc((1.075668, -1.045437), (0.009602, 1.50979), (-1.056464, -1.045437))
            Line((-1.056464, -1.045437), (1.075668, -1.045437))
        make_face()
    extrude(amount=-POCKET_DEPTH, mode=Mode.SUBTRACT)

    # Fusion004: union ruota_dentata_motore
    add(ruota_dentata_motore.part)


solid = ruota_dentata_motore_con_buco.part
